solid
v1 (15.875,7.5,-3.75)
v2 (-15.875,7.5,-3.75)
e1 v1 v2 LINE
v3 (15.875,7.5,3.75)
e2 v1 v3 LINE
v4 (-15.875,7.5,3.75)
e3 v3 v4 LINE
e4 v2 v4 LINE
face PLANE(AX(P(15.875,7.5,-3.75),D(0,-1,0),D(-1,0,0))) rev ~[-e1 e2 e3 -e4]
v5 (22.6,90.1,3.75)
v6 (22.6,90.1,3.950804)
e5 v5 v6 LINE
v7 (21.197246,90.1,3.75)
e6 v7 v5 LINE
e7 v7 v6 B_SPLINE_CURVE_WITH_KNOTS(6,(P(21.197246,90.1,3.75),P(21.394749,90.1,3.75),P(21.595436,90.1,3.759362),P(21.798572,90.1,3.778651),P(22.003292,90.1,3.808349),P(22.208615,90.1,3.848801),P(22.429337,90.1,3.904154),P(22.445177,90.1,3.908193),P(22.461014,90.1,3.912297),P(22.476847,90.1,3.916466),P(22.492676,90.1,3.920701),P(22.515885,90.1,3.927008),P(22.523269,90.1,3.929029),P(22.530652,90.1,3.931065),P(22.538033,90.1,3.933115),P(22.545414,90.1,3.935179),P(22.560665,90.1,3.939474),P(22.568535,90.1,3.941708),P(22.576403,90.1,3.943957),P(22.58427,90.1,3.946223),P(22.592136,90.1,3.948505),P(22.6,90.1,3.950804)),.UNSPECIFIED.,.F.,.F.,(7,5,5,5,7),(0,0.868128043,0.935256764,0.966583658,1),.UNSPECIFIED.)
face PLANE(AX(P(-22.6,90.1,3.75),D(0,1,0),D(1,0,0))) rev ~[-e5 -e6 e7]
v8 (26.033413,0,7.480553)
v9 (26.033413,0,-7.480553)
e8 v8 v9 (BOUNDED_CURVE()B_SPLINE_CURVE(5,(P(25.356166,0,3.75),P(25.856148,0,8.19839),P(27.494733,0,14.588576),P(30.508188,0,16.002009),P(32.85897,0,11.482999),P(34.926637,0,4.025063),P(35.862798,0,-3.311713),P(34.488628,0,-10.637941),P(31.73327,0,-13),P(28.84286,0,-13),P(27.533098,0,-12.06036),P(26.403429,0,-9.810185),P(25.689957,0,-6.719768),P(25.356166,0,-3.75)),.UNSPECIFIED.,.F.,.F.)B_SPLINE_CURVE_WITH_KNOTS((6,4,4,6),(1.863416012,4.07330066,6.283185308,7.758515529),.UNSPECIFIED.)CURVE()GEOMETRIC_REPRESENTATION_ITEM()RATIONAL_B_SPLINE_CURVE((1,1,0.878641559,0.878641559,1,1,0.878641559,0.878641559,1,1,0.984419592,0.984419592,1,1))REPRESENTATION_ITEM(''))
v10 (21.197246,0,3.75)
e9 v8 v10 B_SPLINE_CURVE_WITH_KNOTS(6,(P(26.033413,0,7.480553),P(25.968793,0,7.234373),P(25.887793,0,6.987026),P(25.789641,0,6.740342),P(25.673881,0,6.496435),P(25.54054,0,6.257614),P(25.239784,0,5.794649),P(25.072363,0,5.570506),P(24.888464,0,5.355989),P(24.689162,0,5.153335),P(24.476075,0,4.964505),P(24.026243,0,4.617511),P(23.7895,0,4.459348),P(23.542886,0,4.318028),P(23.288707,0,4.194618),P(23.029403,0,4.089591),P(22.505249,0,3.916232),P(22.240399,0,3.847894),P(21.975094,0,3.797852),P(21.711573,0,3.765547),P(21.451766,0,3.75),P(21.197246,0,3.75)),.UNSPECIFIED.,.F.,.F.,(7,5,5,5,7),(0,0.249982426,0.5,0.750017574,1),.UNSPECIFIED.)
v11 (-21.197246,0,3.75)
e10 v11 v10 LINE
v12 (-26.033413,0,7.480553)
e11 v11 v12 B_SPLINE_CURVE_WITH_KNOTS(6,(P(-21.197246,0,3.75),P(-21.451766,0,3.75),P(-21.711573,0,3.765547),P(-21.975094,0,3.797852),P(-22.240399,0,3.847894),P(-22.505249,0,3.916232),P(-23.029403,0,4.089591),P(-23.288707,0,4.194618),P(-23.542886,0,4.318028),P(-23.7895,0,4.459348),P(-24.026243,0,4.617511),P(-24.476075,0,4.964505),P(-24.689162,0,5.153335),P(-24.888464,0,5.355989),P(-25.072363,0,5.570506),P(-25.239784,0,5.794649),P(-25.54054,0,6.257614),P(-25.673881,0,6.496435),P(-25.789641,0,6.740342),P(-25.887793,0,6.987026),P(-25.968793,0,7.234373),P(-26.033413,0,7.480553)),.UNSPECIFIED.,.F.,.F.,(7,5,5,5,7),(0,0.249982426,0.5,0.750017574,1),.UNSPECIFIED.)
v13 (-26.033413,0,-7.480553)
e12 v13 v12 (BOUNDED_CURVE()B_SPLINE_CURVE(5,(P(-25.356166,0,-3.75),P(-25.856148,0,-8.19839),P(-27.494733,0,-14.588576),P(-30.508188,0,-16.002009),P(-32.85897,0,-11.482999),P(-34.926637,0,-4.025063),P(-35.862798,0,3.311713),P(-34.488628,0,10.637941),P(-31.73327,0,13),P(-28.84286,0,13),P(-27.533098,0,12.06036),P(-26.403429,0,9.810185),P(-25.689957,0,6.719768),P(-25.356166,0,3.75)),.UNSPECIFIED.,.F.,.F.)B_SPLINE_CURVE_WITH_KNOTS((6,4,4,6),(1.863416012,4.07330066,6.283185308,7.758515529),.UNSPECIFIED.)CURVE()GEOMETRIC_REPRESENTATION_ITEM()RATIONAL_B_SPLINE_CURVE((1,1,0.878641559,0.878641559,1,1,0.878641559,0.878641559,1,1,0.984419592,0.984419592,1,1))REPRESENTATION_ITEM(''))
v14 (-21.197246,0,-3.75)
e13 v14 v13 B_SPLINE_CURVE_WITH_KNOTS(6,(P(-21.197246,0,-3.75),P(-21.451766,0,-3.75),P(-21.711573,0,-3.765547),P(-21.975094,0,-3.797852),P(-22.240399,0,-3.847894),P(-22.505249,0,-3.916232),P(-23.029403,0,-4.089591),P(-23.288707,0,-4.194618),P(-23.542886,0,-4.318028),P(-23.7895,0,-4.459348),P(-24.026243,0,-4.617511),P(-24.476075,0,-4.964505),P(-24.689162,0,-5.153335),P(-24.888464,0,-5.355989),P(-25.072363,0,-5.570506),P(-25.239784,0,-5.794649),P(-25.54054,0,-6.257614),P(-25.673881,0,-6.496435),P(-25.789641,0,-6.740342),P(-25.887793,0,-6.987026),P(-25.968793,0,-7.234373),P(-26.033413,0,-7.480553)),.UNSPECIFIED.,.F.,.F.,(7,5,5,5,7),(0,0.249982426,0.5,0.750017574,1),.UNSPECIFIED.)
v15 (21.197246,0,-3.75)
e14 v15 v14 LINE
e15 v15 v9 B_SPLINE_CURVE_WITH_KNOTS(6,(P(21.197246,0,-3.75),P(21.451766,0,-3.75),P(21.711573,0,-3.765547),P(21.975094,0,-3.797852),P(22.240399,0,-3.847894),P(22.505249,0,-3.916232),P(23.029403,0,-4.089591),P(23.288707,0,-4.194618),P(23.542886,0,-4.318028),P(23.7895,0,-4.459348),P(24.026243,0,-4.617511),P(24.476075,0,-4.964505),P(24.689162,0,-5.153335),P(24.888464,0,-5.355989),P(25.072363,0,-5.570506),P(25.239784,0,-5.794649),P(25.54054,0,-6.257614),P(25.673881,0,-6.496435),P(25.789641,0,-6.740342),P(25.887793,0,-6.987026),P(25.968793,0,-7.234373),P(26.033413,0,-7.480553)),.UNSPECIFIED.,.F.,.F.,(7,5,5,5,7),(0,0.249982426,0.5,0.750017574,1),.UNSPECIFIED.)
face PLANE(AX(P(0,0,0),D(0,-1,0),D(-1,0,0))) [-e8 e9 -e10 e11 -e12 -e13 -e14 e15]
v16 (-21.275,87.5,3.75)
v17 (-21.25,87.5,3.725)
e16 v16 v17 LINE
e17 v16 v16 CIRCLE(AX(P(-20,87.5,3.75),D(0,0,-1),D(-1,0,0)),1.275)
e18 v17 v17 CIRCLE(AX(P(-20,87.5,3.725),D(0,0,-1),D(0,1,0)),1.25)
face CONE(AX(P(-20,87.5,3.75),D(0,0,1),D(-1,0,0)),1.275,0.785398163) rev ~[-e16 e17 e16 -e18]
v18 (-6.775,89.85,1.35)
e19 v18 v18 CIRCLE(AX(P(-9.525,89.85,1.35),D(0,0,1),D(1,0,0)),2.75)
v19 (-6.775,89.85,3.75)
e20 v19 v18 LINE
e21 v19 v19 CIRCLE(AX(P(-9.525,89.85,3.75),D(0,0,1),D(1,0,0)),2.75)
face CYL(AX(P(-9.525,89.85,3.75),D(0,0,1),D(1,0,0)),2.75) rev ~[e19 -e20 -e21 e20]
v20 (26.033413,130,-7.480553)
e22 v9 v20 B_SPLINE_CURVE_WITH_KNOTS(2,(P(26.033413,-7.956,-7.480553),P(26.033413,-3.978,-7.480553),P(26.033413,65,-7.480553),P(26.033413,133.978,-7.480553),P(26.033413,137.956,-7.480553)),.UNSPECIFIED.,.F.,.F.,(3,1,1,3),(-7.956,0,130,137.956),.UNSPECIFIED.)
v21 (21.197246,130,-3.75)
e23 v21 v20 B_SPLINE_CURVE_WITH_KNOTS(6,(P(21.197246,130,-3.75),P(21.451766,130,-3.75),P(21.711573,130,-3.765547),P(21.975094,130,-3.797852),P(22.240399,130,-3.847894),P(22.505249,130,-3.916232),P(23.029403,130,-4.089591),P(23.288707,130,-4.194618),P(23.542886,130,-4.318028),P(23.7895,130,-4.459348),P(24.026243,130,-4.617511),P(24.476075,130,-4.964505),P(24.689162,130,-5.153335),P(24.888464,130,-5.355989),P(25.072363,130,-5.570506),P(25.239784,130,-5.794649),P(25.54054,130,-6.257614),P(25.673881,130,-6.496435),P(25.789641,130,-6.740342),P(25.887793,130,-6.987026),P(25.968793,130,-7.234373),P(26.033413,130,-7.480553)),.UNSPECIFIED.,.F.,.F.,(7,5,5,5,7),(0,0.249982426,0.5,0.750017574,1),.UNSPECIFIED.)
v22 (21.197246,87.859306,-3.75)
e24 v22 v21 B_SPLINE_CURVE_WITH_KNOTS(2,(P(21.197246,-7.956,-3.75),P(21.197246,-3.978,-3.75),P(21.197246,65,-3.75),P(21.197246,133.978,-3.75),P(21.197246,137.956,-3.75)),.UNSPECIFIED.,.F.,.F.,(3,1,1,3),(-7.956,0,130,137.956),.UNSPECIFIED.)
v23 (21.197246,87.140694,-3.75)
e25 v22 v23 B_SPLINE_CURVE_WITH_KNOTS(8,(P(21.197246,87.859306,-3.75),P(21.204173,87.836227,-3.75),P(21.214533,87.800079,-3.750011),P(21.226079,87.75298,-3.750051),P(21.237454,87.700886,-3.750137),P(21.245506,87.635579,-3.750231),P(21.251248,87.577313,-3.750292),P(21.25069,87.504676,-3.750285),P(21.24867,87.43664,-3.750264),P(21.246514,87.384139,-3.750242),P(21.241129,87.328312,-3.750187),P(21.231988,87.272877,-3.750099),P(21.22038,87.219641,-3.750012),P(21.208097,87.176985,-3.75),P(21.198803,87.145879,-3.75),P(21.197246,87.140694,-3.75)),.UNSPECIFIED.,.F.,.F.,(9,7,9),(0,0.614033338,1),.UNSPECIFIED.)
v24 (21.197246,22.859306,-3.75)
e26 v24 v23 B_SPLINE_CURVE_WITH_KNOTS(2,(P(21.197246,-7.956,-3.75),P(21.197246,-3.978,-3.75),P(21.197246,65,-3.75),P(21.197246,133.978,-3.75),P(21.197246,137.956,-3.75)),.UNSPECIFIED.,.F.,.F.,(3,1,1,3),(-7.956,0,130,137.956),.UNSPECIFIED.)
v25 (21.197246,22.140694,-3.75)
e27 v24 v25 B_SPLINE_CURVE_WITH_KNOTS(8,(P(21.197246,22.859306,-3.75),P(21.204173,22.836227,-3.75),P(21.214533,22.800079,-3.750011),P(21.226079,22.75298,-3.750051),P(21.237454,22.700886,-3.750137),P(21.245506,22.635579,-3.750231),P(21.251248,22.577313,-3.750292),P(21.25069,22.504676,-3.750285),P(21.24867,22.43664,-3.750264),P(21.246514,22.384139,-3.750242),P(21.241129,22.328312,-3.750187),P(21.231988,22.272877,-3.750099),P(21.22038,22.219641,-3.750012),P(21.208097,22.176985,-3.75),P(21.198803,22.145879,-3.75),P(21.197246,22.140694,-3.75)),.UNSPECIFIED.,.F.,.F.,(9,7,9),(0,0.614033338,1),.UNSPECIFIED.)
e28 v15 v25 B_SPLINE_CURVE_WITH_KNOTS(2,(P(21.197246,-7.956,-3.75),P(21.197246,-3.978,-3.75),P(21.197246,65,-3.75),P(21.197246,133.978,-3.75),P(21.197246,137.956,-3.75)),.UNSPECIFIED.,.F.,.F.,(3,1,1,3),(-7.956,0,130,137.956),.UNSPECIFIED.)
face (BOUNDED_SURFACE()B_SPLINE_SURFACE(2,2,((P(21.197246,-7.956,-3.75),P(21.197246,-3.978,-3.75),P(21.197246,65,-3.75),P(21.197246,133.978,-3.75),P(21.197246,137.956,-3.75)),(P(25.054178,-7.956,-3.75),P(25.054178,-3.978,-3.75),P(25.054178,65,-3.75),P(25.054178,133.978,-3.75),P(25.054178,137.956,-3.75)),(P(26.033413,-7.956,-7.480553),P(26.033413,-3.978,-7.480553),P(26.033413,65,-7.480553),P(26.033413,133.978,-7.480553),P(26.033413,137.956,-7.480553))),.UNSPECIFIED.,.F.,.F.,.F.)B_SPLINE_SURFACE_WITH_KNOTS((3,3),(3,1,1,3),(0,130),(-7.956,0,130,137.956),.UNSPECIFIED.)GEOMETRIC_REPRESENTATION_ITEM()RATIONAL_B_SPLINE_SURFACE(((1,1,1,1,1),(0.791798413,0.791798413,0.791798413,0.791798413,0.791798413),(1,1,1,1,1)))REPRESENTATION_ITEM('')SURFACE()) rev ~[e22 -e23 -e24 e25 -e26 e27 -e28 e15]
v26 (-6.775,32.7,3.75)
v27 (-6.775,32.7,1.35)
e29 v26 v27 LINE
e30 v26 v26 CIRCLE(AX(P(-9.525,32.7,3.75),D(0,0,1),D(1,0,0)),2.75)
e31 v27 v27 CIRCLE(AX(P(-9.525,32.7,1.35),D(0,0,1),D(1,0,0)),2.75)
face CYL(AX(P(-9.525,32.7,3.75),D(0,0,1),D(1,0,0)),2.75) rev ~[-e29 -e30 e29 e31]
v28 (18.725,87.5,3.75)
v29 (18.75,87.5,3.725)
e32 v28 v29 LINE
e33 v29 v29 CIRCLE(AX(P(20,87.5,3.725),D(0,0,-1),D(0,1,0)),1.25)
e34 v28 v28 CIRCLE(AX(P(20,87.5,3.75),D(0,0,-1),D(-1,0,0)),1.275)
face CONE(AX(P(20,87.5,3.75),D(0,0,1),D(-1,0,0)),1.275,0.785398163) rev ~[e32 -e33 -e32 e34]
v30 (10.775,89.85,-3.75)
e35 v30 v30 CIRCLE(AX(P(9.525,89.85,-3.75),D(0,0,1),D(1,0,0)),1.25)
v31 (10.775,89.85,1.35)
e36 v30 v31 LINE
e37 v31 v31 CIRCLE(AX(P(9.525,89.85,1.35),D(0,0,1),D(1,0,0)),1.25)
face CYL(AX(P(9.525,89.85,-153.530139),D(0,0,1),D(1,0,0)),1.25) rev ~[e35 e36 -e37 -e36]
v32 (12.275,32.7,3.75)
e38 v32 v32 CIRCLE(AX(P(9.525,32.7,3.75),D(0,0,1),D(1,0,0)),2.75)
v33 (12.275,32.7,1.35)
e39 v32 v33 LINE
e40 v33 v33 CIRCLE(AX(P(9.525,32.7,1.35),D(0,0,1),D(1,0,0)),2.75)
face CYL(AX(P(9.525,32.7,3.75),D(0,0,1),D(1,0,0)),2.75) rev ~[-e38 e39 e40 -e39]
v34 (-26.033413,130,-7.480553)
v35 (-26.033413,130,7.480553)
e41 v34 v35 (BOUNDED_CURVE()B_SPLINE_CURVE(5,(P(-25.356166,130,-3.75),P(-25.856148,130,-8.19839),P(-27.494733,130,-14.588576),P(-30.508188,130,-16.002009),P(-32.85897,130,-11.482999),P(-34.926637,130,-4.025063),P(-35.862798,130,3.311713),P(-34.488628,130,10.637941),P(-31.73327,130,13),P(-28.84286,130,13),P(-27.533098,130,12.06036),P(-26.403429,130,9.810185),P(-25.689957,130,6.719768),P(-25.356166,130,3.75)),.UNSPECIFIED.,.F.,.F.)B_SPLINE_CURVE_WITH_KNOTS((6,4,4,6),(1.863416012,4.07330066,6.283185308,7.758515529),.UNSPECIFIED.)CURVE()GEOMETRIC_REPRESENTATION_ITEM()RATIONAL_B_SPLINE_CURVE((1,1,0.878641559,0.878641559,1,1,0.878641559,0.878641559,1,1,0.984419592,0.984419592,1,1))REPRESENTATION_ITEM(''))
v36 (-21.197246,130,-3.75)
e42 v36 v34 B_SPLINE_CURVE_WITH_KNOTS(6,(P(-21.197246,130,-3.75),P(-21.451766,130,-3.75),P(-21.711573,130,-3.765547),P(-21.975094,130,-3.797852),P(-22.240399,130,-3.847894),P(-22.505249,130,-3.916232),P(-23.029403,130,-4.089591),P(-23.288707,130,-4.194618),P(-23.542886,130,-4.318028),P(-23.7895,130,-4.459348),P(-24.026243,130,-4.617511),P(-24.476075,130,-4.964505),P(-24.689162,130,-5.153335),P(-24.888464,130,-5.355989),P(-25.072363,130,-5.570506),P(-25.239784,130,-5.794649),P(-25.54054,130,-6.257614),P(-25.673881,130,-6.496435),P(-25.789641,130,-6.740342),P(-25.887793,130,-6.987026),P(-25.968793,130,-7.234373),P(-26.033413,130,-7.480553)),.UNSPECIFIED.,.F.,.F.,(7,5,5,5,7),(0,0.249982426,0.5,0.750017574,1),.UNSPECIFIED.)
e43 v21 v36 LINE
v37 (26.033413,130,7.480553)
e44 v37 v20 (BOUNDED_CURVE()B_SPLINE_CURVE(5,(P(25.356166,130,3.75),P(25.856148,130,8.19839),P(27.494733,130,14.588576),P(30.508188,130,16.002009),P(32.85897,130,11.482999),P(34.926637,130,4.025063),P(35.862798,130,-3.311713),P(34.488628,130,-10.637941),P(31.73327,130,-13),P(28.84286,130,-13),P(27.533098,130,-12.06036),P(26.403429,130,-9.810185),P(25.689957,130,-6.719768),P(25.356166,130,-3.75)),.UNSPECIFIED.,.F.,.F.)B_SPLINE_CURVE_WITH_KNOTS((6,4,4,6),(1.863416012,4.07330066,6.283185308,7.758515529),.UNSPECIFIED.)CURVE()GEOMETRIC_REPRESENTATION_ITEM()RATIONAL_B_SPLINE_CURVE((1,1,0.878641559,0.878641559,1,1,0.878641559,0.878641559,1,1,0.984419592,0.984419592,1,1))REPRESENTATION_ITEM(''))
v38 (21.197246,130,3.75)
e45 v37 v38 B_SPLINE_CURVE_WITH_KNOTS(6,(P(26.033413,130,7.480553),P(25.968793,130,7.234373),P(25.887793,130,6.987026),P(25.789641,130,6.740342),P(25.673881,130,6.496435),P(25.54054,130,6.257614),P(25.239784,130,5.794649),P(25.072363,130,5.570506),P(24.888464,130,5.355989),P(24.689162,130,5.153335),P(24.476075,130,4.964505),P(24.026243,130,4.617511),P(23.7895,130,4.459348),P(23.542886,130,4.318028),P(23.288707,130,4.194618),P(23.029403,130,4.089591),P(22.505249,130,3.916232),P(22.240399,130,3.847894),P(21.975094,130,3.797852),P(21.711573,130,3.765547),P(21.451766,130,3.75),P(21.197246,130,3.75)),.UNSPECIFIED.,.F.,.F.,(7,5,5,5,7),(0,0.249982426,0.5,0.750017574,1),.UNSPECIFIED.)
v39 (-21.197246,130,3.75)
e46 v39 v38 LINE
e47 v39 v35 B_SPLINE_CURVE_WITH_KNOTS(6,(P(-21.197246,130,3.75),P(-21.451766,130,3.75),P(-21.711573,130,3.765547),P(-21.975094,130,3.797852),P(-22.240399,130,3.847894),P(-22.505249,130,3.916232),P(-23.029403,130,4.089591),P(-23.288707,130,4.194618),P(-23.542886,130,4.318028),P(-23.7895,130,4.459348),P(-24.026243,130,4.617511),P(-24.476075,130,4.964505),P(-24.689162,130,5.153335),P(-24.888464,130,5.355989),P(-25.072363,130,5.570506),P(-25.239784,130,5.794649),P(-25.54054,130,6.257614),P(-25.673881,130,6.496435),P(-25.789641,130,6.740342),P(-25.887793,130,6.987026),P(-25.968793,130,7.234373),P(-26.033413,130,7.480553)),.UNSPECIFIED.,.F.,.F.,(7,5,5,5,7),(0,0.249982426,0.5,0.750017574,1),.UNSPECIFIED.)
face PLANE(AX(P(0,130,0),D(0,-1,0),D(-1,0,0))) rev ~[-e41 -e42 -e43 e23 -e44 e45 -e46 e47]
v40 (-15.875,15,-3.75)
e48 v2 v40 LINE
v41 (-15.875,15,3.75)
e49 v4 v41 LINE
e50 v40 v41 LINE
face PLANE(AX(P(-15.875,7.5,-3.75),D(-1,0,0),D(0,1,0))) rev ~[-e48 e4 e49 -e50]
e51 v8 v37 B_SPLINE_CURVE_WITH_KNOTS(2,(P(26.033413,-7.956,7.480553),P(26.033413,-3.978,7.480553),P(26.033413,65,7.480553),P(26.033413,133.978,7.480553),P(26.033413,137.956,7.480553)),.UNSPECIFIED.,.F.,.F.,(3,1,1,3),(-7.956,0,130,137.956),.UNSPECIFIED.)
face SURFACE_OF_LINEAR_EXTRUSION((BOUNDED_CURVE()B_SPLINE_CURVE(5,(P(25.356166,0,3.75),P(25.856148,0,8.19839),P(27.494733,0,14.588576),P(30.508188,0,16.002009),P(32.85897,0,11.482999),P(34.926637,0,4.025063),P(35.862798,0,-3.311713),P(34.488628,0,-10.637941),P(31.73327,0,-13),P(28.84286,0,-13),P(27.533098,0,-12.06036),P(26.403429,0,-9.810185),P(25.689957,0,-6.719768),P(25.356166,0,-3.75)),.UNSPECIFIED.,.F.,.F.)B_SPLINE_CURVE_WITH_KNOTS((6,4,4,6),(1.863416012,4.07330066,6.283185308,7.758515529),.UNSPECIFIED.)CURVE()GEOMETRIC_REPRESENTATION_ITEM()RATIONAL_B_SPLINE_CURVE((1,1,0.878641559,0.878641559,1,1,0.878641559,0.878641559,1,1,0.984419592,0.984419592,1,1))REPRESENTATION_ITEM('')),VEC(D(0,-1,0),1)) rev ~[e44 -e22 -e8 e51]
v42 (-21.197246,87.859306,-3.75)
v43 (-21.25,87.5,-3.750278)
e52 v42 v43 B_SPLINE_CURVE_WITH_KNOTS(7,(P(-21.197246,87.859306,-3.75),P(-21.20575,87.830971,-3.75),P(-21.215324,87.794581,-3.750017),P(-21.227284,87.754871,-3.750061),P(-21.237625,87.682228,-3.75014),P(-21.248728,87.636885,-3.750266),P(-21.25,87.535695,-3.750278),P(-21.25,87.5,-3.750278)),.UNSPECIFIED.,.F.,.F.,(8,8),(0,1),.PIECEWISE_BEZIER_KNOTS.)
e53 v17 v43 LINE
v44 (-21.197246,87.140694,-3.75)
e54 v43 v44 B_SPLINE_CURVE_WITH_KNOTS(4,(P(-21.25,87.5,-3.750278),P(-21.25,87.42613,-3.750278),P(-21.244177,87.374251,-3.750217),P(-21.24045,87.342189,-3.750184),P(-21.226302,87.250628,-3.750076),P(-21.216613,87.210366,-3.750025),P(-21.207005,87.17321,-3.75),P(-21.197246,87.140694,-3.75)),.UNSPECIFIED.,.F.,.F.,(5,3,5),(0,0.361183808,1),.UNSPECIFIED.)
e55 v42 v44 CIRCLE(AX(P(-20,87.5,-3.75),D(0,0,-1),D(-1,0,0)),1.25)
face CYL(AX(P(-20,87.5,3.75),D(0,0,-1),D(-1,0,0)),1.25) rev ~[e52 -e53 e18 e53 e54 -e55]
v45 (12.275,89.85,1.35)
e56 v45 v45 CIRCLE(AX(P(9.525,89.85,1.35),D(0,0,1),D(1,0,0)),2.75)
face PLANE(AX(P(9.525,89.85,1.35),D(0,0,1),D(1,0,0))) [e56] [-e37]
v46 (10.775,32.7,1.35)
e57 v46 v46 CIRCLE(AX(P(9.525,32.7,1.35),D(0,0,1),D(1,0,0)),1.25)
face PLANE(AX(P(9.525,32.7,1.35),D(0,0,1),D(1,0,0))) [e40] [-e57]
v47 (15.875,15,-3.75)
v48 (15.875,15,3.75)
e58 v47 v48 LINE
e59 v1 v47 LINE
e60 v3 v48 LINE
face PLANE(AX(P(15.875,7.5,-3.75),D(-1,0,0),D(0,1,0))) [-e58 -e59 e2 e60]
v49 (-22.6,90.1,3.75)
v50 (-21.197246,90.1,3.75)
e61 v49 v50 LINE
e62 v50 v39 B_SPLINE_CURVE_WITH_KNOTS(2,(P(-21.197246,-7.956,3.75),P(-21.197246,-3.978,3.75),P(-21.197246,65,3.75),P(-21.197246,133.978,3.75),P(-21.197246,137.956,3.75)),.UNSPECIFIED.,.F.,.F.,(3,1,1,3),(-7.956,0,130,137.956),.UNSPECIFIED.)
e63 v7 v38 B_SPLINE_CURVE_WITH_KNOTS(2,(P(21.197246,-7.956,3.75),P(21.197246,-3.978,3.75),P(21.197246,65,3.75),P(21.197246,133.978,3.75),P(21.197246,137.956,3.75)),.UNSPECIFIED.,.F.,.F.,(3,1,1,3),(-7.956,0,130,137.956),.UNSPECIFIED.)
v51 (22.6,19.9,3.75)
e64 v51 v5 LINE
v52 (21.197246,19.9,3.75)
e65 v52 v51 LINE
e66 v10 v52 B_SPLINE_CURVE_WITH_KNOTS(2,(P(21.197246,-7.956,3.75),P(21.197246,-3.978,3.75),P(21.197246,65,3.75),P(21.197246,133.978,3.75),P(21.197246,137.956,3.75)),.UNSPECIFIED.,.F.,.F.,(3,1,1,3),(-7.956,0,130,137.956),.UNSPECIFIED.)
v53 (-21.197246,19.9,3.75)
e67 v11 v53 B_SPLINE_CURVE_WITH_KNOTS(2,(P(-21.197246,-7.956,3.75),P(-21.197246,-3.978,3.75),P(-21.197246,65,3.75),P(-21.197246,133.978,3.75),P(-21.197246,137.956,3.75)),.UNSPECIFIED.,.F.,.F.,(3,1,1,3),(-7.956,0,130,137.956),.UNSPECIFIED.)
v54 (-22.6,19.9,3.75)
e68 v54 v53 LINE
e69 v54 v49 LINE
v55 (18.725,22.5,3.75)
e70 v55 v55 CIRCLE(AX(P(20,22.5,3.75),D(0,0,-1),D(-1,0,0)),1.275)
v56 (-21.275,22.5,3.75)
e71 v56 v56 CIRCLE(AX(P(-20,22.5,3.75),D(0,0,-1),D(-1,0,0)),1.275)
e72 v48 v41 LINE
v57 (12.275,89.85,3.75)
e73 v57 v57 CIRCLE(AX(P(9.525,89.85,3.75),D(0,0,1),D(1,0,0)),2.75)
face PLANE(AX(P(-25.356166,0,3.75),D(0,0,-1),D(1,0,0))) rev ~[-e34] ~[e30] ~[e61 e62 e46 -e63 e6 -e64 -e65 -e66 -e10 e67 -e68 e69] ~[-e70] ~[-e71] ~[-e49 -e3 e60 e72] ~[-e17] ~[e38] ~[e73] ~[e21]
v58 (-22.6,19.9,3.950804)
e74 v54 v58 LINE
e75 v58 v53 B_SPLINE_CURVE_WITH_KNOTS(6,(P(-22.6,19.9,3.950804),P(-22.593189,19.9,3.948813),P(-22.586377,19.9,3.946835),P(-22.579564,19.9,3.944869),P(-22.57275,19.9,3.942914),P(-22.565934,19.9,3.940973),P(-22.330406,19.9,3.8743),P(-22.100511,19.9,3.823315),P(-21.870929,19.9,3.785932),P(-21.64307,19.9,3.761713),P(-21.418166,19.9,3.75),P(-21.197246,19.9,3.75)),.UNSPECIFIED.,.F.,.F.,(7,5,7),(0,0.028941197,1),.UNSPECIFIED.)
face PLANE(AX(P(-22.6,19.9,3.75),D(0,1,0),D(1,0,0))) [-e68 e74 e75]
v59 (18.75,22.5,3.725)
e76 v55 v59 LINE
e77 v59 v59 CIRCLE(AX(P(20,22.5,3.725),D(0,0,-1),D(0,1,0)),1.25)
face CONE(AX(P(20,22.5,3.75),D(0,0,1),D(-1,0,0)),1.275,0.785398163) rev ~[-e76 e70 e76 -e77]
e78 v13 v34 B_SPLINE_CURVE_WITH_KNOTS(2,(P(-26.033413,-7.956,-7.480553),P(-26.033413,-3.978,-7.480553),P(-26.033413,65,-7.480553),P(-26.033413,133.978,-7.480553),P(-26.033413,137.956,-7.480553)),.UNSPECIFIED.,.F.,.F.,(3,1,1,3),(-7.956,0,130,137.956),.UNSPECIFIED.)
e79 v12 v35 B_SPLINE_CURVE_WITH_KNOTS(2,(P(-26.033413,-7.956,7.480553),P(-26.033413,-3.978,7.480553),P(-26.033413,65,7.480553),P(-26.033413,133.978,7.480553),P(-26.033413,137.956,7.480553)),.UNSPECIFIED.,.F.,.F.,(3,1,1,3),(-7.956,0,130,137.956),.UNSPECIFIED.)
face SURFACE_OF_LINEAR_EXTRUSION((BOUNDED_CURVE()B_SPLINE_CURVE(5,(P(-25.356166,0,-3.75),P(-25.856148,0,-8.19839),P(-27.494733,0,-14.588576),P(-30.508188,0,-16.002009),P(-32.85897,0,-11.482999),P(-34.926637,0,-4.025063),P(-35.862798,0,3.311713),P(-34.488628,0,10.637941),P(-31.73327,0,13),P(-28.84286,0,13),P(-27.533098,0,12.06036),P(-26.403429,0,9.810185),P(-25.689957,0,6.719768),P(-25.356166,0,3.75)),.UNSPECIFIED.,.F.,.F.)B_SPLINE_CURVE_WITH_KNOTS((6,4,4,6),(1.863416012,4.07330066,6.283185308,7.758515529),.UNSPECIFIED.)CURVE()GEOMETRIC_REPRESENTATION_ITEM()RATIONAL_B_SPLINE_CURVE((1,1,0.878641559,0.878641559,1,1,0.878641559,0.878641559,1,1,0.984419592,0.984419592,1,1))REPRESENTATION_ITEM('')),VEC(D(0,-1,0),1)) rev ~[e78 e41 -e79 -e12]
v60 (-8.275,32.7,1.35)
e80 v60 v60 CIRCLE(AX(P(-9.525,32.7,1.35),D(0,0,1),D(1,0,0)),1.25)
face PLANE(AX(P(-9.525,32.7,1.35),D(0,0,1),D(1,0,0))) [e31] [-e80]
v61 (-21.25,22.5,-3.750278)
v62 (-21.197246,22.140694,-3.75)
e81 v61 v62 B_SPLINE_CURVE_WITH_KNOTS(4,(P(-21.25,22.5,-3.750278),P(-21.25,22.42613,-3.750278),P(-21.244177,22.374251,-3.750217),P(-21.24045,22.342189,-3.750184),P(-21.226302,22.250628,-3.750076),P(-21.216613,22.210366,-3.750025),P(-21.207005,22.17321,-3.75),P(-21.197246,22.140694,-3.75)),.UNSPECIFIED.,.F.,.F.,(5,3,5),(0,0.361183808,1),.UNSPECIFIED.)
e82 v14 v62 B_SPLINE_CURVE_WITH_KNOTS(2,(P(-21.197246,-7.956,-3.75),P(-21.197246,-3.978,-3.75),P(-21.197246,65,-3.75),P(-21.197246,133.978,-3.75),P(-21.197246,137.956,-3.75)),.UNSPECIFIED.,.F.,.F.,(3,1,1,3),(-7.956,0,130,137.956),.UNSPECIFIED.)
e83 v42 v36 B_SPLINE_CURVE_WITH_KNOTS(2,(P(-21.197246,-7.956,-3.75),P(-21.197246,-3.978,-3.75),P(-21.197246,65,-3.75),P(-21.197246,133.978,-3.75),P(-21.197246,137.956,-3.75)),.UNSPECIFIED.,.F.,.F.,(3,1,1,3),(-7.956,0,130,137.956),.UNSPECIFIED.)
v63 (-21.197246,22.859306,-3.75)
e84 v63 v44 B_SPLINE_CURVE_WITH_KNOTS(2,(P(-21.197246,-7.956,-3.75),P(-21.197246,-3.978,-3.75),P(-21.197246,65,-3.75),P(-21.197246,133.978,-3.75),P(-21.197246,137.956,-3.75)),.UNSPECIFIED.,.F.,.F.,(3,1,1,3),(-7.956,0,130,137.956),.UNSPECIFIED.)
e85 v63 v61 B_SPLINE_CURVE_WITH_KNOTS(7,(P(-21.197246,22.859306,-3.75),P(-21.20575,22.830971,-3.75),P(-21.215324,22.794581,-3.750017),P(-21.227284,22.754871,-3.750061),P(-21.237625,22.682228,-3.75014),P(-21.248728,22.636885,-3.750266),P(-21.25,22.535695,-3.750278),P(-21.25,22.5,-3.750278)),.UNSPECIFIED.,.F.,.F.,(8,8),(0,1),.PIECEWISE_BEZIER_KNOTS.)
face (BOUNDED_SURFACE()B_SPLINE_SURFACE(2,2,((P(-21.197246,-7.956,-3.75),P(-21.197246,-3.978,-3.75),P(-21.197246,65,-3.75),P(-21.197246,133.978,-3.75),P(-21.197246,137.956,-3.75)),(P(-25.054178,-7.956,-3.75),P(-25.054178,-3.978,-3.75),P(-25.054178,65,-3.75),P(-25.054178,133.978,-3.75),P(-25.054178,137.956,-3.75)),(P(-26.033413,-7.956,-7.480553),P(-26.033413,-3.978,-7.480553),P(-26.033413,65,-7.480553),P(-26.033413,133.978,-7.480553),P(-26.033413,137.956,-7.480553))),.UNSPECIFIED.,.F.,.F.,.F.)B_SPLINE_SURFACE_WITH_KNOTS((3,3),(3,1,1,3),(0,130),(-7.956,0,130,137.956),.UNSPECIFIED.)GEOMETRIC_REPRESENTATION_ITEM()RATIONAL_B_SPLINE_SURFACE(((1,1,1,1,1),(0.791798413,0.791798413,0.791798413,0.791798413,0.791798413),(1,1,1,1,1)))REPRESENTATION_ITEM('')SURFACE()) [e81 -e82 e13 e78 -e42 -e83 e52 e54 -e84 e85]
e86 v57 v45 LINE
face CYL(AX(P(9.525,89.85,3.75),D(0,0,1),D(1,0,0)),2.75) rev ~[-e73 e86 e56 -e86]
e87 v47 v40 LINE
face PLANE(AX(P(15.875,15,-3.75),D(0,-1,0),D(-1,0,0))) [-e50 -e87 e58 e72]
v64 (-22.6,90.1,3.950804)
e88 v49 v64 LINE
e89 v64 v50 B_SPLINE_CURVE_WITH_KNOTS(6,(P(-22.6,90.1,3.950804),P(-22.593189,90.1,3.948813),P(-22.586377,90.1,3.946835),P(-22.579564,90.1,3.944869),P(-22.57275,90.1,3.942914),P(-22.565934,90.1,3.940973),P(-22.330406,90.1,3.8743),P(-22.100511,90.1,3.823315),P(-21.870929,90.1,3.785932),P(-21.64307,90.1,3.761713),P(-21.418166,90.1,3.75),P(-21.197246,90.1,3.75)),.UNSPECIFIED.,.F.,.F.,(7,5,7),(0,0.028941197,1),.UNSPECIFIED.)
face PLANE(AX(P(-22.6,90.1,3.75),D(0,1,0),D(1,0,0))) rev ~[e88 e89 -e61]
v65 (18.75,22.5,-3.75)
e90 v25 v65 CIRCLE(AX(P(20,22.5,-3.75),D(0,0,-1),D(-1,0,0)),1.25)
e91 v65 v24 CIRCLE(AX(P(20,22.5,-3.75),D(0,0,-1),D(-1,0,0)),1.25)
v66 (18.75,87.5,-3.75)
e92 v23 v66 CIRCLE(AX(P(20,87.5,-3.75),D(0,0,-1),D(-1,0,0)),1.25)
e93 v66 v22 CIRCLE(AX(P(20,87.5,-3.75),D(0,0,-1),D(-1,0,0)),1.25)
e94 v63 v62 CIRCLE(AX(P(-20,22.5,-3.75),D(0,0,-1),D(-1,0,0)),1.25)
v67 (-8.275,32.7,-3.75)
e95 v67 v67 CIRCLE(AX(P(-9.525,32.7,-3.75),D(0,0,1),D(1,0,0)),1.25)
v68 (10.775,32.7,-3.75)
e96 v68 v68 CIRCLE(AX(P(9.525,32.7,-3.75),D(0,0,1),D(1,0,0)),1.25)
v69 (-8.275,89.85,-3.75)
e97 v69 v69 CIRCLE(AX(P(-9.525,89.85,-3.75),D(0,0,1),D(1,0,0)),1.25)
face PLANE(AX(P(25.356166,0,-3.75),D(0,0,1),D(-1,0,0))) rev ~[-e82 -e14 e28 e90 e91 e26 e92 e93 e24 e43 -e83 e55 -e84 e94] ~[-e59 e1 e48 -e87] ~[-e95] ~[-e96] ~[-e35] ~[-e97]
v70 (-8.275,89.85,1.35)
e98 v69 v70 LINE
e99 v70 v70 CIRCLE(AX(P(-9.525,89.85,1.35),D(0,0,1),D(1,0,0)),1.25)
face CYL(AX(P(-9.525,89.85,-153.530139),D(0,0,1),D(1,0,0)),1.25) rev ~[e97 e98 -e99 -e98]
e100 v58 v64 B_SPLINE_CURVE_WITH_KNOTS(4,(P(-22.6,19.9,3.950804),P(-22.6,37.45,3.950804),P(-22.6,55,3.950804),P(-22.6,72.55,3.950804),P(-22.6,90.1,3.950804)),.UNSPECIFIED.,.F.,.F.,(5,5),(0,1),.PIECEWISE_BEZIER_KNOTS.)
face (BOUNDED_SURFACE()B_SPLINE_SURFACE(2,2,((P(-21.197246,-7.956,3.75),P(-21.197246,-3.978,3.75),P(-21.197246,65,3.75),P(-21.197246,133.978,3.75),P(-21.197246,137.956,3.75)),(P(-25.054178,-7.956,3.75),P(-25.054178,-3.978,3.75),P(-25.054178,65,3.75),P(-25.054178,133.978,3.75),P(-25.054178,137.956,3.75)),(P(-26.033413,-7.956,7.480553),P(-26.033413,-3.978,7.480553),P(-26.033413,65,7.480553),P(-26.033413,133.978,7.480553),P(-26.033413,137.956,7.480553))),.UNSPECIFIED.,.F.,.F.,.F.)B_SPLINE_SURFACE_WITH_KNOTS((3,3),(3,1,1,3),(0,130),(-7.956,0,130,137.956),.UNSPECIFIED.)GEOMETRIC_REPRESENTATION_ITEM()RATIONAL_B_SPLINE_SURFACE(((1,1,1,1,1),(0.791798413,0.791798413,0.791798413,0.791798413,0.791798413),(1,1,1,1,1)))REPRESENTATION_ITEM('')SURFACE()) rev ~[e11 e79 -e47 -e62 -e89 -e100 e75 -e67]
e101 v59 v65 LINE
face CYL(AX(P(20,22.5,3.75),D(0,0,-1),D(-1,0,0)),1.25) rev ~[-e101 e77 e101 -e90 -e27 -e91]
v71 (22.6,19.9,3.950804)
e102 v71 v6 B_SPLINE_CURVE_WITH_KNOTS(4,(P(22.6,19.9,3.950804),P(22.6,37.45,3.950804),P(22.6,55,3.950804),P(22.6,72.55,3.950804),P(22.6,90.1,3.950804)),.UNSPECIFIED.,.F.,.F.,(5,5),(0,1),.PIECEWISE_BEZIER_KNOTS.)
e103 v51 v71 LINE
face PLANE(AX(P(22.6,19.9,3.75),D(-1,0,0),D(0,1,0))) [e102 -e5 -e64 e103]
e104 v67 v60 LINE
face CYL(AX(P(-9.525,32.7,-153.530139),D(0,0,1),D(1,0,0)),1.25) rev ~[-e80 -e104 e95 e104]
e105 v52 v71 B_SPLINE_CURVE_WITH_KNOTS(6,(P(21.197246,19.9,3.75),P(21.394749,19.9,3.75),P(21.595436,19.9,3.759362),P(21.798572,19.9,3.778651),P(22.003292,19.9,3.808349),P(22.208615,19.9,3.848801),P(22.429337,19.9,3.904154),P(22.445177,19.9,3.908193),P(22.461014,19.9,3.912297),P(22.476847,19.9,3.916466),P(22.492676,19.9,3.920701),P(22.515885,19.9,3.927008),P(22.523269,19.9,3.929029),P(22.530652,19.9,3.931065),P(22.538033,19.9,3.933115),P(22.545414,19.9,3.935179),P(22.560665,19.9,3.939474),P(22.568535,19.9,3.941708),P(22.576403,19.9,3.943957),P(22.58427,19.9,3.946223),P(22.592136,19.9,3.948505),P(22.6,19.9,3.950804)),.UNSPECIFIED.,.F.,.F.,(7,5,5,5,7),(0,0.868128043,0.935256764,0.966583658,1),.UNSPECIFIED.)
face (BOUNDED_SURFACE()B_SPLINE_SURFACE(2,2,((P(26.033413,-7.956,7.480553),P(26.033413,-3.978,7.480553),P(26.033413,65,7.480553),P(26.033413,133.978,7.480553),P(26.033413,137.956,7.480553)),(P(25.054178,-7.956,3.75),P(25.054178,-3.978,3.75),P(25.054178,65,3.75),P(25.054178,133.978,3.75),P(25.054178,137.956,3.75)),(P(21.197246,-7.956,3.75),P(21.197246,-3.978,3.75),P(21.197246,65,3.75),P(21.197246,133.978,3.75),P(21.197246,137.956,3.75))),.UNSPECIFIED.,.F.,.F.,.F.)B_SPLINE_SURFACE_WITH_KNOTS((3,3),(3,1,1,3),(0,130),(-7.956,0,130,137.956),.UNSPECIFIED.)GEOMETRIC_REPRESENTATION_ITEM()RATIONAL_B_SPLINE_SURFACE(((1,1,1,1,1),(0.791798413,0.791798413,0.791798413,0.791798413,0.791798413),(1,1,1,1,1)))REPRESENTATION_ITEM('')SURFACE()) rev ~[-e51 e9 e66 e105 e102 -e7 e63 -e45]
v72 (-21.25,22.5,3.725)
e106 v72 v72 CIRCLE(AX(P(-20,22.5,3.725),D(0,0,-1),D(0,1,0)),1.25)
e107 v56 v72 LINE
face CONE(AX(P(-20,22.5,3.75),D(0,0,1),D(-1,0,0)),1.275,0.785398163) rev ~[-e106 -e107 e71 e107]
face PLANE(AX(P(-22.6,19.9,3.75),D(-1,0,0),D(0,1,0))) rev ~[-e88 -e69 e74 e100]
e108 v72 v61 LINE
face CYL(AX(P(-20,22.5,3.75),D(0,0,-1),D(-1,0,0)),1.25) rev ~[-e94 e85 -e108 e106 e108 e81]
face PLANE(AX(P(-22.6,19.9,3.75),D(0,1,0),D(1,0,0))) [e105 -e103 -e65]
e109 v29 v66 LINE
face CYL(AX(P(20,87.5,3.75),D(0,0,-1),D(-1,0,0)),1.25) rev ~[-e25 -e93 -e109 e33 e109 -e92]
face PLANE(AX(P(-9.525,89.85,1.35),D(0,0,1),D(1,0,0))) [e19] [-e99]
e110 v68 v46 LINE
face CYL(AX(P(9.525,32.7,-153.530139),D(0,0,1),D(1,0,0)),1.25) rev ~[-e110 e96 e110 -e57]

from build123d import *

# Parameters (mm, degrees)
BOSS_EXTRUDE1_DEPTH               = 130
FILLET1_R                         = 5
SKETCH3_W                         = 31.75
SKETCH3_H                         = 7.5
CUT_EXTRUDE2_DEPTH                = 10.2500001
CUT_EXTRUDE2_DEPTH_BACK           = 17.7500001
TAP_DRILL_FOR_M3X0_5_TAP1_D       = 2.5
SKETCH5_W                         = 45.2
SKETCH5_H                         = 70.2
SKETCH5_W_2                       = 35
SKETCH5_H_2                       = 60
CUT_EXTRUDE3_DEPTH                = 10
SKETCH6_R                         = 2.75
CUT_EXTRUDE4_DEPTH                = 2.4
TAP_DRILL_FOR_M3_TAP1_D           = 2.5
TAP_DRILL_FOR_M3_TAP1_CSINK_D     = 2.55
TAP_DRILL_FOR_M3_TAP1_CSINK_ANGLE = 90


with BuildPart() as part:
    # Sketch1 → Boss-Extrude1 (new body)
    with BuildSketch(Plane(origin=(0, 0, 0), x_dir=(1, 0, 0), z_dir=(0, 1, 0))):
        with BuildLine():
            add(Edge.make_bspline(
                [(25.356166305, 3.75), (24.934680795, 0), (25.356166305, -3.75)],
                knots=[1.278176641, 1.278176641, 1.278176641, 1.863416012, 1.863416012, 1.863416012], degree=2, weights=[1, 0.957491483, 1]))
            Line((25.356166305, 3.75), (-25.356166305, 3.75))
            add(Edge.make_bspline(
                [(-25.356166305, -3.75), (-24.934680795, 0), (-25.356166305, 3.75)],
                knots=[1.278176641, 1.278176641, 1.278176641, 1.863416012, 1.863416012, 1.863416012], degree=2, weights=[1, 0.957491483, 1]))
            Line((-25.356166305, -3.75), (25.356166305, -3.75))
        make_face()
        with BuildLine():
            add(Edge.make_bspline(
                [(-25.356166305, -3.75), (-24.934680795, 0), (-25.356166305, 3.75)],
                knots=[1.278176641, 1.278176641, 1.278176641, 1.863416012, 1.863416012, 1.863416012], degree=2, weights=[1, 0.957491483, 1]))
            Line((-25.356166305, 3.75), (-30, 3.75))
            Line((-30, 3.75), (-30, -3.75))
            Line((-30, -3.75), (-25.356166305, -3.75))
        make_face()
        with BuildLine():
            Line((-30, 3.75), (-25.356166305, 3.75))
            add(Edge.make_bspline(
                [(-25.356166305, 3.75), (-28.138876861, 28.508062419), (-33.892803395, 7.75403121), (-39.646729928, -13), (-30, -13)],
                knots=[1.863416012, 1.863416012, 1.863416012, 4.07330066, 4.07330066, 6.283185307, 6.283185307, 6.283185307], degree=2, weights=[1, 0.449185964, 1, 0.449185964, 1]))
            add(Edge.make_bspline(
                [(-30, -13), (-26.395830565, -13), (-25.356166305, -3.75)],
                knots=[0, 0, 0, 1.278176641, 1.278176641, 1.278176641], degree=2, weights=[1, 0.802639875, 1]))
            Line((-25.356166305, -3.75), (-30, -3.75))
            Line((-30, -3.75), (-30, 3.75))
        make_face()
        with BuildLine():
            Line((30, -3.75), (30, 3.75))
            Line((30, 3.75), (25.356166305, 3.75))
            add(Edge.make_bspline(
                [(25.356166305, 3.75), (24.934680795, 0), (25.356166305, -3.75)],
                knots=[1.278176641, 1.278176641, 1.278176641, 1.863416012, 1.863416012, 1.863416012], degree=2, weights=[1, 0.957491483, 1]))
            Line((25.356166305, -3.75), (30, -3.75))
        make_face()
        with BuildLine():
            Line((25.356166305, 3.75), (30, 3.75))
            Line((30, 3.75), (30, -3.75))
            Line((30, -3.75), (25.356166305, -3.75))
            add(Edge.make_bspline(
                [(25.356166305, -3.75), (28.138876861, -28.508062419), (33.892803395, -7.75403121), (39.646729928, 13), (30, 13)],
                knots=[1.863416012, 1.863416012, 1.863416012, 4.07330066, 4.07330066, 6.283185307, 6.283185307, 6.283185307], degree=2, weights=[1, 0.449185964, 1, 0.449185964, 1]))
            add(Edge.make_bspline(
                [(30, 13), (26.395830565, 13), (25.356166305, 3.75)],
                knots=[0, 0, 0, 1.278176641, 1.278176641, 1.278176641], degree=2, weights=[1, 0.802639875, 1]))
        make_face()
    extrude(amount=BOSS_EXTRUDE1_DEPTH)

    # Fillet1
    fillet1_edges = [part.edges().sort_by_distance(p)[0] for p in [
        (-25.356166305, 65, -3.75),
        (25.356166305, 65, -3.75),
        (25.356166305, 65, 3.75),
        (-25.356166305, 65, 3.75),
    ]]
    fillet(fillet1_edges, radius=FILLET1_R)

    # Sketch3 → Cut-Extrude2 (cut, two sides)
    with BuildSketch(Plane(origin=(0, 0, -3.75), x_dir=(-1, 0, 0), z_dir=(0, 0, -1))) as cut_extrude2_sk:
        with Locations((0, 11.25)):
            Rectangle(SKETCH3_W, SKETCH3_H)
    extrude(amount=CUT_EXTRUDE2_DEPTH, mode=Mode.SUBTRACT)
    extrude(cut_extrude2_sk.sketch, amount=-CUT_EXTRUDE2_DEPTH_BACK, mode=Mode.SUBTRACT)

    # Tap Drill for M3x0.5 Tap1 (through all)
    with Locations(Plane(origin=(9.525, 89.85, -3.75), x_dir=(-1, 0, 0), z_dir=(0, 0, -1))):
        with Locations((0, 0), (19.05, 0), (19.05, -57.15), (0, -57.15)):
            Hole(TAP_DRILL_FOR_M3X0_5_TAP1_D / 2)

    # Sketch5 → Cut-Extrude3 (cut)
    with BuildSketch(Plane.XY.offset(3.75)):
        with Locations((0, 55)):
            Rectangle(SKETCH5_W, SKETCH5_H)
        with Locations((0, 55)):
            Rectangle(SKETCH5_W_2, SKETCH5_H_2, mode=Mode.SUBTRACT)
    extrude(amount=CUT_EXTRUDE3_DEPTH, mode=Mode.SUBTRACT)

    # Sketch6 → Cut-Extrude4 (cut)
    with BuildSketch(Plane.XY.offset(3.75)):
        with Locations((9.525, 89.85)):
            Circle(SKETCH6_R)
        with Locations((-9.525, 89.85)):
            Circle(SKETCH6_R)
        with Locations((9.525, 32.7)):
            Circle(SKETCH6_R)
        with Locations((-9.525, 32.7)):
            Circle(SKETCH6_R)
    extrude(amount=-CUT_EXTRUDE4_DEPTH, mode=Mode.SUBTRACT)

    # Tap Drill for M3 Tap1 (through all)
    with Locations(Plane.XY.offset(3.75)):
        with Locations((-20, 87.5), (20, 87.5), (20, 22.5), (-20, 22.5)):
            CounterSinkHole(TAP_DRILL_FOR_M3_TAP1_D / 2, TAP_DRILL_FOR_M3_TAP1_CSINK_D / 2, counter_sink_angle=TAP_DRILL_FOR_M3_TAP1_CSINK_ANGLE)


solid = part.part
